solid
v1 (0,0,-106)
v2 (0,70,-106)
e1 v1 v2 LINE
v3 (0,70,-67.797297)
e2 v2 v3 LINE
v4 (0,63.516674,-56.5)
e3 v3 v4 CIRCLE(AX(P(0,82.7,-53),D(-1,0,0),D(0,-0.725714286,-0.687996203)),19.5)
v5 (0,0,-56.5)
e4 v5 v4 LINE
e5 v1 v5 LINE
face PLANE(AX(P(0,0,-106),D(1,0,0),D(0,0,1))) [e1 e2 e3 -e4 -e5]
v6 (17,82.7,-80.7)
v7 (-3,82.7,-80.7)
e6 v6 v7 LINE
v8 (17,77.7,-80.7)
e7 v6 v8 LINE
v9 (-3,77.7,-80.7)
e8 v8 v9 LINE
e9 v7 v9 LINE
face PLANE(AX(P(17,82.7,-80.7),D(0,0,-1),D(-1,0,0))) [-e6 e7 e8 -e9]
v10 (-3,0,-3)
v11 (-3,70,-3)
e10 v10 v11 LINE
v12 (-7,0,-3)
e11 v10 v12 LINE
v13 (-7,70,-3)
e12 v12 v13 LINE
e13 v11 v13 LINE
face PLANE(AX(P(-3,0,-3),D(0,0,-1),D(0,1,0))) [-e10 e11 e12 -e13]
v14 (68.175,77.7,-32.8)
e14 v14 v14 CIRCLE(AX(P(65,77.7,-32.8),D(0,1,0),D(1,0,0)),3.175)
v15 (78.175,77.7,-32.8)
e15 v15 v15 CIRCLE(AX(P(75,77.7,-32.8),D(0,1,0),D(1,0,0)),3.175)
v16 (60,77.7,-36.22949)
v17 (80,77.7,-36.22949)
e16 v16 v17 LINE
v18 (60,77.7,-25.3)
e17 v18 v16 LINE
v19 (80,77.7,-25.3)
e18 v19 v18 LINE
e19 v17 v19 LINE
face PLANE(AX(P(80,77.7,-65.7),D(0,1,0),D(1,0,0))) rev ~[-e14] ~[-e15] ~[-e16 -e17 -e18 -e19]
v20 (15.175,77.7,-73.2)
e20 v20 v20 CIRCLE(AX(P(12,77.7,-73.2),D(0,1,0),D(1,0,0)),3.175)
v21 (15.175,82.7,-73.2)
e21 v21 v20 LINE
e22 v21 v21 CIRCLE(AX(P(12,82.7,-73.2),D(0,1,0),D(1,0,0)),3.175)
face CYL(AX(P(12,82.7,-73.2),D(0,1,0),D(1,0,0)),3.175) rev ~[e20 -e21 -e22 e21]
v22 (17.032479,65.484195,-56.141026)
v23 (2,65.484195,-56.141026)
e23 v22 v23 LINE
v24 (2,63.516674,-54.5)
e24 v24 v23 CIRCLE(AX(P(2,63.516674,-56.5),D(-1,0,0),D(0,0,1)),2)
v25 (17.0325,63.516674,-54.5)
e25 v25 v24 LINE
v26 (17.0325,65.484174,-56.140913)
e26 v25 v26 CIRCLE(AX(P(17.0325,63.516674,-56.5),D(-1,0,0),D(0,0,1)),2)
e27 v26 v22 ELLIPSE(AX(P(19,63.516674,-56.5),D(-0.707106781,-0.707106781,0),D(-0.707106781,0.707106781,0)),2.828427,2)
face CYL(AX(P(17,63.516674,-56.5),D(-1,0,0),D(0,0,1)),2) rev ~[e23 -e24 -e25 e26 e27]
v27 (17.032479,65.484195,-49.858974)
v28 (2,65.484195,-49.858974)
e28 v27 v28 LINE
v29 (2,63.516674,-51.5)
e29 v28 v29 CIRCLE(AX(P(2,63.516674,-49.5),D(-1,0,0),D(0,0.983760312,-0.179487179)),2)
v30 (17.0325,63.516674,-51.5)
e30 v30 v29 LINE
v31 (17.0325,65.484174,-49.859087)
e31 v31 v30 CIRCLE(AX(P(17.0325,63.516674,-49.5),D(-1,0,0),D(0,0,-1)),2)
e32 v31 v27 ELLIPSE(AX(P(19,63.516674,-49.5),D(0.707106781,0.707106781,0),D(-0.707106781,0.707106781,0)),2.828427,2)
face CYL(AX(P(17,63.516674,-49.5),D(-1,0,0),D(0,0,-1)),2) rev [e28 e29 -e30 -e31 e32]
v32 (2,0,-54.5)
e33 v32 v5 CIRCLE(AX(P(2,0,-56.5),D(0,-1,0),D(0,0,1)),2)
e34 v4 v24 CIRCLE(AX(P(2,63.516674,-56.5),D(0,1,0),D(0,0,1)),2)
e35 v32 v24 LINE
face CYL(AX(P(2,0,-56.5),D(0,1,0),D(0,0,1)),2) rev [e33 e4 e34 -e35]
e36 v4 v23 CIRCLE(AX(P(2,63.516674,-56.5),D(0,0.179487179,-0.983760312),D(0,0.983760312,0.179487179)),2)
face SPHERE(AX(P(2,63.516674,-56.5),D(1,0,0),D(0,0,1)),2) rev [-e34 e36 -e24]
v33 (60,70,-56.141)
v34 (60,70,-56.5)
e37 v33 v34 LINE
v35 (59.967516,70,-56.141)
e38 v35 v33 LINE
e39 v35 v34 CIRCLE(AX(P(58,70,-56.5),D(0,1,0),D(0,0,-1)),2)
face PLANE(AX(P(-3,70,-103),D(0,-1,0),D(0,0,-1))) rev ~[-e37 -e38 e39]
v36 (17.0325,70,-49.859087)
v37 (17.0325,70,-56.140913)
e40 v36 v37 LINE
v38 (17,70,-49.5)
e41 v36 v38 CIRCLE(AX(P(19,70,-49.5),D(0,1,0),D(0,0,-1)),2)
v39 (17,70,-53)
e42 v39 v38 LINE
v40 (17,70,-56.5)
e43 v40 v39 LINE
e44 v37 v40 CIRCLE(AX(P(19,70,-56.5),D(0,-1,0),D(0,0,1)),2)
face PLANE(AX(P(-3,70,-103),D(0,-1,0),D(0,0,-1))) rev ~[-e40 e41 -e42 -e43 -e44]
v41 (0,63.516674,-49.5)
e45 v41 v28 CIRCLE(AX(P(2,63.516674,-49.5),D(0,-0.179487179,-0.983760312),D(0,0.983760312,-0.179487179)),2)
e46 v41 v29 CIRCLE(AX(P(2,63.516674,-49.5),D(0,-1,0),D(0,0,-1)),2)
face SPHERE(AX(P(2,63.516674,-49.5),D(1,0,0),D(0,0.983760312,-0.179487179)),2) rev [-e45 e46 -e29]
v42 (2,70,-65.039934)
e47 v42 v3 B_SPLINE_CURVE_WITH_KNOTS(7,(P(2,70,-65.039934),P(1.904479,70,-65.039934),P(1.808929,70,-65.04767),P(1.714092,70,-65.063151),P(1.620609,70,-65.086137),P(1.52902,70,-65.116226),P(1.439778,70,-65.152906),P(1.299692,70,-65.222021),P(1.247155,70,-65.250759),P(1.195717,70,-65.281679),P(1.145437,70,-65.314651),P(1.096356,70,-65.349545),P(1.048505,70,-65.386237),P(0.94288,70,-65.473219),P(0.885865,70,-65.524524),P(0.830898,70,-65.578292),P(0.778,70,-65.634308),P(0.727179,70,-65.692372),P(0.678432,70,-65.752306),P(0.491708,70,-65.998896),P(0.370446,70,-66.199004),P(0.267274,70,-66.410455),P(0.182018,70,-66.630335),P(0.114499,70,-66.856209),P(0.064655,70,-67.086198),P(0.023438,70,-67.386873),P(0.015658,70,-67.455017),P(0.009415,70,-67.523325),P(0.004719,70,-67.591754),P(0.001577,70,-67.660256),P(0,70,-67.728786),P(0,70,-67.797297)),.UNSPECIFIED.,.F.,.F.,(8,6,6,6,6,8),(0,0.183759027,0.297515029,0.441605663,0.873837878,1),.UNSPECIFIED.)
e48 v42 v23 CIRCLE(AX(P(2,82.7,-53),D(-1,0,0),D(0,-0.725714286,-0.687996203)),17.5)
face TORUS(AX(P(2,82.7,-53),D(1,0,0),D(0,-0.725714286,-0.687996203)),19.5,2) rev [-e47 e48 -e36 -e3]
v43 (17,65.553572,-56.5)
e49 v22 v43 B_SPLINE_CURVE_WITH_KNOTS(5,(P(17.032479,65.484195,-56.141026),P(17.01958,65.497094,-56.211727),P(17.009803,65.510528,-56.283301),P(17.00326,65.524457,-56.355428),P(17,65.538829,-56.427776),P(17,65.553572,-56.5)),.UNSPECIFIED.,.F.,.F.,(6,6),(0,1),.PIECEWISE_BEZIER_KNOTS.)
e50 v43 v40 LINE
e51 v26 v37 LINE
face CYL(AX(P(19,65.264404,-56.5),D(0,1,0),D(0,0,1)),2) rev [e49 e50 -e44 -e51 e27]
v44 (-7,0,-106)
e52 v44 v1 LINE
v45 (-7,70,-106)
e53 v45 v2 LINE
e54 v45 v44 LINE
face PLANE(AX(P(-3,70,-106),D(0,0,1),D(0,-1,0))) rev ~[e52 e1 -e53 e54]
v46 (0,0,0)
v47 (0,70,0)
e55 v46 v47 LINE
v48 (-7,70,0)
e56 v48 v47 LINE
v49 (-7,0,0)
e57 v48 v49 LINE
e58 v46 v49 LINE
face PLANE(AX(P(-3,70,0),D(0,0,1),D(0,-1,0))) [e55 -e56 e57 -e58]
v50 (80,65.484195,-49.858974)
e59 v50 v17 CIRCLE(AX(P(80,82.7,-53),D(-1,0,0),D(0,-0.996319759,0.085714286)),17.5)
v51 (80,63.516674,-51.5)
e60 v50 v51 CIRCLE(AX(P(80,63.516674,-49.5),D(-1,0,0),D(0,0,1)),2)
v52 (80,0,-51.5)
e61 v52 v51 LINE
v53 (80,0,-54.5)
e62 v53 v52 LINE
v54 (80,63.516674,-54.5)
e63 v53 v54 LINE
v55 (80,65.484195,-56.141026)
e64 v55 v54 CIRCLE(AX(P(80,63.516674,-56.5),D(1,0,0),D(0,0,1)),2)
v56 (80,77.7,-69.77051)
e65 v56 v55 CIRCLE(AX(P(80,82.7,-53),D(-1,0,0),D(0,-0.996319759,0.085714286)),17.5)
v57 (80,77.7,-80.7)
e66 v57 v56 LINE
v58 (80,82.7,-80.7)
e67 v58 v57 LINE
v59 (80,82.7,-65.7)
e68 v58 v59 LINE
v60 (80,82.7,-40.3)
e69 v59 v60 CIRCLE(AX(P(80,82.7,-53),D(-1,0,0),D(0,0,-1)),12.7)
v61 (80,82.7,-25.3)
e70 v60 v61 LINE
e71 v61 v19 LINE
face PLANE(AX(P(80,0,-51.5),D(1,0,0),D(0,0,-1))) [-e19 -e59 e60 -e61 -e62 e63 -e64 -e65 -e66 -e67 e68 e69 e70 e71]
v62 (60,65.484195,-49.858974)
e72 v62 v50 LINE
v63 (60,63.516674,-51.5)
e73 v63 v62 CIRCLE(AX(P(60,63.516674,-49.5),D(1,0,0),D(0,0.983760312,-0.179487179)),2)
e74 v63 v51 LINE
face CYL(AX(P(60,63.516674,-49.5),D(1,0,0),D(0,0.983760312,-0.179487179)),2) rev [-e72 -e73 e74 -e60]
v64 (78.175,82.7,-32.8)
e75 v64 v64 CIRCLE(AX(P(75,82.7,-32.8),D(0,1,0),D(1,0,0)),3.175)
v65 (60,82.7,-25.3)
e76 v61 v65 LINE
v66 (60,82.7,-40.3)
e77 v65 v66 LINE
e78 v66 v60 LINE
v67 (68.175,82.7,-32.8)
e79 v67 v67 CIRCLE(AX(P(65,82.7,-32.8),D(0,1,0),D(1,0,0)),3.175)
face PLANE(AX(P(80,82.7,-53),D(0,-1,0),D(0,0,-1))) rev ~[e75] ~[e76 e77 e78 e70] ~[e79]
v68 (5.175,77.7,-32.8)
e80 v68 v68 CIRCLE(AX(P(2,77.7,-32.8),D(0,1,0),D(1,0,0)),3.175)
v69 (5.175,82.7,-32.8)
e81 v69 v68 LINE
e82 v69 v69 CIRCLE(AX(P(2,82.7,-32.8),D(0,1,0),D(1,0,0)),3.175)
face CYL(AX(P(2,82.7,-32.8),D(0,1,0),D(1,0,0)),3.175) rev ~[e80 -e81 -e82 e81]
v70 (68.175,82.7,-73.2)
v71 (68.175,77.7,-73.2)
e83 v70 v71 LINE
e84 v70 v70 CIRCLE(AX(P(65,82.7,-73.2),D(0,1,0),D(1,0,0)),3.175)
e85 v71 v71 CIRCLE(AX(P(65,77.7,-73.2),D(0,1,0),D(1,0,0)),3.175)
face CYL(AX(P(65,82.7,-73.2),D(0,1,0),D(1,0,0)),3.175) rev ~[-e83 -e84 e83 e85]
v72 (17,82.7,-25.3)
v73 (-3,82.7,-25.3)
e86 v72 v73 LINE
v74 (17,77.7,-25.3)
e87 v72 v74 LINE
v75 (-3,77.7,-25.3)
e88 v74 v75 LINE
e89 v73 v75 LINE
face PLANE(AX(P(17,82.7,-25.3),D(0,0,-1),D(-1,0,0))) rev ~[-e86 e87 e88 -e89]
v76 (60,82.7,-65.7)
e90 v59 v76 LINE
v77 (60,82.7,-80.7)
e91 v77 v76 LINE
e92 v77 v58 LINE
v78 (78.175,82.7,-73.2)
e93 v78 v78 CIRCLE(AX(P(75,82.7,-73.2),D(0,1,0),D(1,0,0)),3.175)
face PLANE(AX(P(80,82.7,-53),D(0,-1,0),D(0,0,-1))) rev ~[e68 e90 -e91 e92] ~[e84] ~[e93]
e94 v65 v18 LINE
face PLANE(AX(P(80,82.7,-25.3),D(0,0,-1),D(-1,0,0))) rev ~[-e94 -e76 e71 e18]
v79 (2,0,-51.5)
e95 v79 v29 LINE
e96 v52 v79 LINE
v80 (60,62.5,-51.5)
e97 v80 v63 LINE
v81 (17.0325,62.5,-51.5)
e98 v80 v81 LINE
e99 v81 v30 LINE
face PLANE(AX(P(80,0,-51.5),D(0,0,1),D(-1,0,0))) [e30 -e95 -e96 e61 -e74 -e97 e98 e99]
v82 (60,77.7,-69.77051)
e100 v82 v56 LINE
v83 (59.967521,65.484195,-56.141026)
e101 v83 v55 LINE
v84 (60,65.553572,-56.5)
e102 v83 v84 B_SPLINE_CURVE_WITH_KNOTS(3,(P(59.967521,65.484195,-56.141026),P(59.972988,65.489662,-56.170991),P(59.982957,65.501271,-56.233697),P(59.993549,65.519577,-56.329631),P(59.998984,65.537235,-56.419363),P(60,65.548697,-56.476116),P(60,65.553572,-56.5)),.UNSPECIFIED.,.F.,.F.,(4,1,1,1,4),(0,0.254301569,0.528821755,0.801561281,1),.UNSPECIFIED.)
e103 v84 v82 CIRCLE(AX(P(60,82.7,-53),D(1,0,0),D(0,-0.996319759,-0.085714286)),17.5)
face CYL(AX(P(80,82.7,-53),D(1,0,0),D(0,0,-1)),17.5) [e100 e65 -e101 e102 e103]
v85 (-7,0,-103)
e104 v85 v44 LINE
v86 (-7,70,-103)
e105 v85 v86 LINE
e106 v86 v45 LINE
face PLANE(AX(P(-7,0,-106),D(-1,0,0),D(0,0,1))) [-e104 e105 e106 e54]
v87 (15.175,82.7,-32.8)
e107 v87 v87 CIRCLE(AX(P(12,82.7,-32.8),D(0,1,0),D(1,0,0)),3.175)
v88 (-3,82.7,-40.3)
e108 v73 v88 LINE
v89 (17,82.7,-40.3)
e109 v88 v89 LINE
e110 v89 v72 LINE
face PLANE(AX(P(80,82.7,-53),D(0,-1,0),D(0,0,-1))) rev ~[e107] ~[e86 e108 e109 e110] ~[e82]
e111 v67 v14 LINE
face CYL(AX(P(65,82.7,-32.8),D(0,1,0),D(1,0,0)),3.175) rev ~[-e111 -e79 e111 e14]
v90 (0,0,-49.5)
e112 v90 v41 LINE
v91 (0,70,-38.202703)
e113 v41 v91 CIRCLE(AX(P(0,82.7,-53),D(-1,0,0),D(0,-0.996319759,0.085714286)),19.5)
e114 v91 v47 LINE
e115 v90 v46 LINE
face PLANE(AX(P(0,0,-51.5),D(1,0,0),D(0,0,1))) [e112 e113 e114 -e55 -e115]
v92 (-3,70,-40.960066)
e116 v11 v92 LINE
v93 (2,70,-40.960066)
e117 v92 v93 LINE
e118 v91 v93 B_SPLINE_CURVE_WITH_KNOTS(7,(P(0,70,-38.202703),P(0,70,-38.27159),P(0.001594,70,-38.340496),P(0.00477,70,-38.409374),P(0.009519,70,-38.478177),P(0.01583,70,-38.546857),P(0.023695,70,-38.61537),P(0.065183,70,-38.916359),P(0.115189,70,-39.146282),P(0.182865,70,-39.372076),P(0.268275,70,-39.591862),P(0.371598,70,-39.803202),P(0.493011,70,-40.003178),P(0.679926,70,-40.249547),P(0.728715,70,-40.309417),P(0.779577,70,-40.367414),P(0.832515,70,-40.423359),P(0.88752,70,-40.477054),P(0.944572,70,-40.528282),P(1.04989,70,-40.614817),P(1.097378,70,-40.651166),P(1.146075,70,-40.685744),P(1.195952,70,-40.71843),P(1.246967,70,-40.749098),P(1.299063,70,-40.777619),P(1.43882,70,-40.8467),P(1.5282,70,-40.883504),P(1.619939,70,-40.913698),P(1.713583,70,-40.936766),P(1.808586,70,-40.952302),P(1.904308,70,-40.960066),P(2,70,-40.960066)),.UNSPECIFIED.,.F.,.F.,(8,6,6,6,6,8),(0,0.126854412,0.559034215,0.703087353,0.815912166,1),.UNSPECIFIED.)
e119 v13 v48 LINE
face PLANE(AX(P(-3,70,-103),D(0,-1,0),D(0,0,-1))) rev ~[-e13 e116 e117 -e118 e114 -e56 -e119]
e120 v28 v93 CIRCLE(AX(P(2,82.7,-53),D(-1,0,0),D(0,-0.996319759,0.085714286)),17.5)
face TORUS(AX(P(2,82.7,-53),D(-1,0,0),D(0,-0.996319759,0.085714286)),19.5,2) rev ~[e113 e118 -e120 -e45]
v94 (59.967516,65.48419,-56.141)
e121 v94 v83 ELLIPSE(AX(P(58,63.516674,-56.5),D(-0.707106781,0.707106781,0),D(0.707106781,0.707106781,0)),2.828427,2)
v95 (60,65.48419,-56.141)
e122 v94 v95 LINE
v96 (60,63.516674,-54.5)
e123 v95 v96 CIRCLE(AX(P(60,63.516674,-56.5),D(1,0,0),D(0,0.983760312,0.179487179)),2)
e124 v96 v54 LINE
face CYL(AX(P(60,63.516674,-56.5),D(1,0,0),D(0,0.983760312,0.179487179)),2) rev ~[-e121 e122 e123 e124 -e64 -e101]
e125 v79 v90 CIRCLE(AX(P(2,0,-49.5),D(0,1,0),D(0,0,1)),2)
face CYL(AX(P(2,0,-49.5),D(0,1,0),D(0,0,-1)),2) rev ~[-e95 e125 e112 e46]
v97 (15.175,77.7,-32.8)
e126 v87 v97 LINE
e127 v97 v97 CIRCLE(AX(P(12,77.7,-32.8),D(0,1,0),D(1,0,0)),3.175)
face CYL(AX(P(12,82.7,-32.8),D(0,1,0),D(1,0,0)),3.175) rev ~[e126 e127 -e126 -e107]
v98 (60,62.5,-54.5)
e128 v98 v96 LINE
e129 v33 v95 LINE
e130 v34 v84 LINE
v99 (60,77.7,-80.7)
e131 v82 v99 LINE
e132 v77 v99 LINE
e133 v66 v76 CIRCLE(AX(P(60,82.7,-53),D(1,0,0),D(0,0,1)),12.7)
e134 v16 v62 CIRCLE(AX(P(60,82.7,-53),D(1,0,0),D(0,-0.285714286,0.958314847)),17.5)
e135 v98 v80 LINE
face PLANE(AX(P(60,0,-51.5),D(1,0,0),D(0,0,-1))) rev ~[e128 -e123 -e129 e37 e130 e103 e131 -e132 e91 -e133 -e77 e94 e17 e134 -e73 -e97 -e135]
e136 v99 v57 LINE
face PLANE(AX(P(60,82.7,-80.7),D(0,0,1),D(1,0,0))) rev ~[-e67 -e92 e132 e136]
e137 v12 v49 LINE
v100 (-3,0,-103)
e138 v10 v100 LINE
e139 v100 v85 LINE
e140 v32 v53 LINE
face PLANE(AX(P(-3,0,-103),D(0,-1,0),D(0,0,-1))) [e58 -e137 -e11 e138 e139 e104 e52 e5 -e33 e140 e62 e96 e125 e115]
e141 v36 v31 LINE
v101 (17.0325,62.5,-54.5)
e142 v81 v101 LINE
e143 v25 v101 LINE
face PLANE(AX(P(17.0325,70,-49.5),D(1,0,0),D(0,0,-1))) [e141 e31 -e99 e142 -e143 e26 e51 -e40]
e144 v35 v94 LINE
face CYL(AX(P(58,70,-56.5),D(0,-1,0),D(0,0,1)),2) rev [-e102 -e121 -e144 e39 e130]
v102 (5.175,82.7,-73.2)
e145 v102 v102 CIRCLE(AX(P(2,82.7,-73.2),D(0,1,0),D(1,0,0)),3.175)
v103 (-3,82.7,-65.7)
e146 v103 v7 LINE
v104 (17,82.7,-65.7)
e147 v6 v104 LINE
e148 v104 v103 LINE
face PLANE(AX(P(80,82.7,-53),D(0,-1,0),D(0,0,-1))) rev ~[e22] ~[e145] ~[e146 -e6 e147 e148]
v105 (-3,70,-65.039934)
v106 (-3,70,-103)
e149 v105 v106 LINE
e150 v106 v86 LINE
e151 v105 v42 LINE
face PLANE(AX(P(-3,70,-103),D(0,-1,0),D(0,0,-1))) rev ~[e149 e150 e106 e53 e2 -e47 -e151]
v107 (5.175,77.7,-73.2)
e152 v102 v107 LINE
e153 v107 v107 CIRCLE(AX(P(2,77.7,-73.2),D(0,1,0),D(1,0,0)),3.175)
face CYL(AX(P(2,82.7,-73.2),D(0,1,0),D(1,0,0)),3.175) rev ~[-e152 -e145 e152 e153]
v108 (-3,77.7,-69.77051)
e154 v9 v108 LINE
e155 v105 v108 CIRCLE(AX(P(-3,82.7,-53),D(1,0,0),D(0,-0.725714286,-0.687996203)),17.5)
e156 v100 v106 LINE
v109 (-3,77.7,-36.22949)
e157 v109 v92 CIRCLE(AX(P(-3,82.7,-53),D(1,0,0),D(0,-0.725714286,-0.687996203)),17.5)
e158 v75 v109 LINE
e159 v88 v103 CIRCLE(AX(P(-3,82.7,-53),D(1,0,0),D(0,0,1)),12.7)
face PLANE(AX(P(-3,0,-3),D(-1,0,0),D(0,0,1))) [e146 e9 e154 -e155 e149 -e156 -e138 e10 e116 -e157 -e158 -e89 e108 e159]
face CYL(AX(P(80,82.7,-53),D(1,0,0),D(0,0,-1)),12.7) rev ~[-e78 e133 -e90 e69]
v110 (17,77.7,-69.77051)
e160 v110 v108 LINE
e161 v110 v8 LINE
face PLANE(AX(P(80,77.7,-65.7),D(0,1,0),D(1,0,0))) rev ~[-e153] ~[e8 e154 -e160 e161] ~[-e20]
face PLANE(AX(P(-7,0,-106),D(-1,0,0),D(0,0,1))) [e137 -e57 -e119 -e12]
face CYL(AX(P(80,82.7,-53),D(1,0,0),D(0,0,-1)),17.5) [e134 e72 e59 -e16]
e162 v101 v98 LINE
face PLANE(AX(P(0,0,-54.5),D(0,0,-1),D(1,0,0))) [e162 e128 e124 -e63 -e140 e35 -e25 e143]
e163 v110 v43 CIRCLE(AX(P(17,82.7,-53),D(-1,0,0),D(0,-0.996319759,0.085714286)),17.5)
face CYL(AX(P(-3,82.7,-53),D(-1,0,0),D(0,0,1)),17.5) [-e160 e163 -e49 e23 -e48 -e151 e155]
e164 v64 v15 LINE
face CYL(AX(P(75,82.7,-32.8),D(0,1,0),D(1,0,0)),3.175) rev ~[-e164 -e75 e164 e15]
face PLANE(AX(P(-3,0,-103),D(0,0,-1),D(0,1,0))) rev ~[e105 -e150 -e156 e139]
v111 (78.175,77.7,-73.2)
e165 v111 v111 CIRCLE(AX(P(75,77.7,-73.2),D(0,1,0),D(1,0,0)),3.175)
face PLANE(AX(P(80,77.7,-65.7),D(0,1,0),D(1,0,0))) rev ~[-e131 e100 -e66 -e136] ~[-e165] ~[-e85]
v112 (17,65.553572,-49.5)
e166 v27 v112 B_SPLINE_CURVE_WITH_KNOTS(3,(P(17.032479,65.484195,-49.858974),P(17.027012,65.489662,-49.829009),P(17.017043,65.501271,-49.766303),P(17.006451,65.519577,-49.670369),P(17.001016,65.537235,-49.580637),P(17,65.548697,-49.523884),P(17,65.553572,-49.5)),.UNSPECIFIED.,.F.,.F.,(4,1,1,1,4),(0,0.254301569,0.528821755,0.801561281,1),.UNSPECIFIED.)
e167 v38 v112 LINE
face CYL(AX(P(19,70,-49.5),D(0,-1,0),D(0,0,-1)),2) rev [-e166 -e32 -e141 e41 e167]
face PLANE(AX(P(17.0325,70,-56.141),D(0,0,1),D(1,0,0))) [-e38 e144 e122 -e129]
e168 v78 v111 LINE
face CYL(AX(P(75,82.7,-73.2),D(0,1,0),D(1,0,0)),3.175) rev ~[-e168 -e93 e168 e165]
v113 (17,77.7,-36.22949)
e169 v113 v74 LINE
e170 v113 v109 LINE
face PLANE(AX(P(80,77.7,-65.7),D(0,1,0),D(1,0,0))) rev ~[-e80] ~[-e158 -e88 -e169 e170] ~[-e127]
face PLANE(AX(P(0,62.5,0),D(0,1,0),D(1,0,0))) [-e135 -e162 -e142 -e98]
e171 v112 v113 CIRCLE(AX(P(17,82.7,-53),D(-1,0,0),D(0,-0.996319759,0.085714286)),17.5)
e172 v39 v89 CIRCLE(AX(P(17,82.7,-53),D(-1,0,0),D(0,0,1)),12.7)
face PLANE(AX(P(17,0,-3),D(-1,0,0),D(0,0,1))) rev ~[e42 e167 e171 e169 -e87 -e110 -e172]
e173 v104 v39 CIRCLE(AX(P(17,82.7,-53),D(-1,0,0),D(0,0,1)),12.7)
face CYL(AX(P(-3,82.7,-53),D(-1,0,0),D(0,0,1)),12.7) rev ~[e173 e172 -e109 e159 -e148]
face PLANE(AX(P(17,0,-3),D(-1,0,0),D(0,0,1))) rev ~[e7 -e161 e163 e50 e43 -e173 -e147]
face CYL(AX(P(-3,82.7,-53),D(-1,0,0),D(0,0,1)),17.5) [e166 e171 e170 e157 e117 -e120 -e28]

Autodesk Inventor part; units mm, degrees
ref_plane "YZ Plane" through (0, 0, 0) normal (1, 0, 0) x (0, 1, 0)
ref_plane "XZ Plane" through (0, 0, 0) normal (0, 1, 0) x (-1, 0, 0)
ref_plane "XY Plane" through (0, 0, 0) normal (0, 0, 1) x (1, 0, 0)
sketch "Sketch1" plane through (0, 0, 0) normal (0, 1, 0) x (-1, 0, 0)
  line L0 (0, 0) -> (3, 0)
  line L1 (3, 0) -> (3, -106)
  line L2 (3, -106) -> (0, -106)
  line L3 (0, -106) -> (0, 0)
  line L4 (0, -53) -> (-80, -53) construction
  line L5 (-80, -51.5) -> (0, -51.5)
  line L6 (0, -51.5) -> (0, -54.5)
  line L7 (0, -54.5) -> (-80, -54.5)
  line L8 (-80, -54.5) -> (-80, -51.5)
  line L9 (-80, -51.5) -> (0, -54.5) construction
  line L10 (0, -51.5) -> (-80, -54.5) construction
  point P0 (-40, -53)
  dimension "d0" = 3
  dimension "d1" = 106
  dimension "d2" = 80
  dimension "d3" = 3
extrude "Extrusion1" add sketch "Sketch1" along normal blind 70
sketch "Sketch2" plane through (-3, 0, -106) normal (-1, 0, 0) x (0, 0, 1)
  line L0 (0, 0) -> (106, 0) projected
  line L1 (0, 70) -> (106, 70) projected
  line L2 (106, 0) -> (103, 0)
  line L3 (103, 0) -> (103, 70)
  line L4 (103, 70) -> (106, 70)
  line L5 (106, 70) -> (106, 0)
  dimension "d6" = 3
sketch "Sketch3" plane through (-3, 0, -106) normal (-1, 0, 0) x (0, 0, 1)
  line L0 (51.5, 70) -> (0, 70) projected
  line L1 (0, 0) -> (3, 0)
  line L2 (3, 0) -> (3, 70)
  line L3 (3, 70) -> (0, 70)
  line L4 (0, 70) -> (0, 0)
  point P0 (106, 0)
  dimension "d7" = 3
sketch "Sketch4" plane through (-3, 0, -106) normal (-1, 0, 0) x (0, 0, 1)
  line L0 (51.5, 0) -> (0, 0) projected
  line L1 (51.5, 70) -> (0, 70) projected
  line L2 (0, 0) -> (3, 0)
  line L3 (3, 0) -> (3, 70)
  line L4 (3, 70) -> (0, 70)
  line L5 (0, 70) -> (0, 0)
  point P0 (106, 0)
  dimension "d8" = 3
extrude "Extrusion2" add sketch "Sketch2" along normal blind 4
extrude "Extrusion3" add sketch "Sketch4" along normal blind 4
sketch "Sketch5" plane through (-3, 0, -3) normal (-1, 0, 0) x (0, 0, 1)
  line L0 (-103, 0) -> (-103, 70) construction
  line L1 (-103, 70) -> (3, 70) construction
  line L2 (3, 70) -> (-50, 70) construction
  line L3 (-50, 70) -> (-50, 82.7) construction
  circle A0 centre (-50, 82.7) radius 12.7
  circle A1 centre (-50, 82.7) radius 17.5
  point P0 (3, 0)
  dimension "d13" = 12.7
  dimension "d14" = 25.4
  dimension "d15" = 35
extrude "Extrusion4" add sketch "Sketch5" against normal blind 20
sketch "Sketch6" plane through (80, 0, -51.5) normal (1, 0, 0) x (0, 0, -1)
  circle A0 centre (1.5, 82.7) radius 12.7 projected
  circle A1 centre (1.5, 82.7) radius 12.7
  circle A2 centre (1.5, 82.7) radius 17.5
  point P0 (-51.5, 0)
  point P1 (1.5, 70)
extrude "Extrusion5" add sketch "Sketch6" against normal blind 20
sketch "Sketch7" plane through (80, 0, -51.5) normal (1, 0, 0) x (0, 0, -1)
  arc A0 (3, 65.2644) -> (0, 65.2644) centre (1.5, 82.7) ccw projected
  line L0 (1.5, 82.7) -> (-23.0448, 82.7)
  line L1 (-23.0448, 82.7) -> (-23.0448, 99.7436)
  line L2 (-23.0448, 99.7436) -> (1.5, 99.7436)
  line L3 (1.5, 99.7436) -> (1.5, 82.7)
  line L4 (-23.0448, 82.7) -> (23.5266, 82.7)
  line L5 (23.5266, 82.7) -> (23.5266, 103.3181)
  line L6 (23.5266, 103.3181) -> (-23.0448, 103.3181)
  line L7 (-23.0448, 103.3181) -> (-23.0448, 82.7)
  point P0 (-51.5, 0)
extrude "Extrusion6" cut sketch "Sketch7" against normal blind 2000
sketch "Sketch8" plane through (80, 82.7, -65.7) normal (0, 1, 0) x (1, 0, 0)
  line L0 (-83, -25.4) -> (-83, 0) projected
  line L1 (-83, 0) -> (-63, 0)
  line L2 (-63, 0) -> (-63, 15)
  line L3 (-63, 15) -> (-83, 15)
  line L4 (-83, 15) -> (-83, 0)
  line L5 (0, 0) -> (-20, 0) projected
  line L6 (0, 0) -> (-20, 0)
  line L7 (-20, 0) -> (-20, 15)
  line L8 (-20, 15) -> (0, 15)
  line L9 (0, 15) -> (0, 0)
  line L10 (-20, -25.4) -> (0, -25.4) projected
  line L11 (-20, -25.4) -> (0, -25.4)
  line L12 (0, -25.4) -> (0, -40.4)
  line L13 (0, -40.4) -> (-20, -40.4)
  line L14 (-20, -40.4) -> (-20, -25.4)
  line L15 (-83, -25.4) -> (-63, -25.4)
  line L16 (-63, -25.4) -> (-63, -40.4)
  line L17 (-63, -40.4) -> (-83, -40.4)
  line L18 (-83, -40.4) -> (-83, -25.4)
  point P0 (-80, -65.7)
  dimension "d22" = 15
  dimension "d23" = 15
  dimension "d24" = 15
  dimension "d25" = 20
extrude "Extrusion7" add sketch "Sketch8" against normal blind 5
fillet "Fillet1" radius 2 12 edges at (0, 32.6322, -54.5) (0, 66.7372, -60.1721) (8.5, 65.2644, -54.5) (17, 67.6322, -54.5) (70, 65.2644, -54.5) (60, 67.6322, -54.5) (0, 32.6322, -51.5) (8.5, 65.2644, -51.5) (0, 66.7372, -45.8279) (17, 67.6322, -51.5) (70, 65.2644, -51.5) (60, 67.6322, -51.5)
sketch "Sketch9" plane through (0, 70, 0) normal (0, 1, 0) x (1, 0, 0)
  arc A0 (17.0325, 56.141) -> (19, 54.5) centre (19, 56.5) ccw projected
  line L0 (60, 49.5) -> (60, 53) projected
  line L1 (17.0325, 56.141) -> (60, 56.141)
  line L2 (60, 56.141) -> (60, 49.5)
  line L3 (60, 49.5) -> (17.0325, 49.5)
  line L4 (17.0325, 49.5) -> (17.0325, 56.141)
  point P0 (0, 0)
extrude "Extrusion8" cut sketch "Sketch9" against normal blind 7.5
sketch "Sketch10" plane through (-3, 82.7, -40.3) normal (0, 1, 0) x (1, 0, 0)
  line L0 (20, -4.0705) -> (20, -15) projected
  line L1 (0, 0) -> (20, 0) projected
  line L2 (20, -15) -> (0, -15)
  line L3 (0, -15) -> (0, 0)
  line L4 (0, 0) -> (20, 0)
  line L5 (20, 0) -> (20, -15)
  line L6 (20, -15) -> (0, -15) construction
  line L7 (10, -15) -> (10, 40.4) construction
  line L8 (0, 40.4) -> (20, 40.4) construction
  line L9 (0, -15) -> (10, 0) construction
  line L10 (0, 0) -> (10, -15) construction
  line L11 (20, 0) -> (10, -15) construction
  line L12 (20, -15) -> (10, 0) construction
  line L13 (20, 25.4) -> (0, 25.4) construction
  line L14 (10, 25.4) -> (0, 40.4) construction
  line L15 (0, 62.7) -> (0, -37.3) construction
  line L16 (0, 25.4) -> (10, 40.4) construction
  line L17 (10, 40.4) -> (20, 25.4) construction
  line L18 (20, 25.4) -> (15, 32.9) construction
  line L19 (20, 40.4) -> (20, 25.4) construction
  line L20 (10, 25.4) -> (20, 40.4) construction
  circle A0 centre (5, -7.5) radius 3.175
  circle A1 centre (15, -7.5) radius 3.175
  circle A2 centre (5, 32.9) radius 3.175
  circle A3 centre (15, 32.9) radius 3.175
  point P0 (3, -40.3)
  dimension "d31" = 6.35
  dimension "d32" = 6.35
  dimension "d33" = 6.35
  dimension "d34" = 6.35
extrude "Extrusion9" cut sketch "Sketch10" against normal blind 7.5 contours A0 | A1 | A2 | A3
sketch "Sketch11" plane through (60, 82.7, -40.3) normal (0, 1, 0) x (1, 0, 0)
  line L0 (20, -15) -> (0, -15) construction
  line L1 (10, -15) -> (10, 40.4) construction
  line L2 (0, 40.4) -> (20, 40.4) construction
  line L3 (0, 40.4) -> (10, 25.4) construction
  line L4 (20, 25.4) -> (0, 25.4) construction
  line L5 (5, 32.9) -> (20, 32.9) construction
  line L6 (20, 40.4) -> (20, 29.4705) construction
  line L7 (10, 25.4) -> (20, 40.4) construction
  line L8 (0, -15) -> (10, 0) construction
  line L9 (0, 0) -> (20, 0) construction
  line L10 (0, 0) -> (10, -15) construction
  line L11 (20, 0) -> (20, -15) construction
  line L12 (10, -15) -> (20, 0) construction
  line L13 (20, 0) -> (10, 0) construction
  line L14 (20, -15) -> (10, 0) construction
  circle A0 centre (5, -7.5) radius 3.175
  circle A1 centre (15, -7.5) radius 3.175
  circle A2 centre (5, 32.9) radius 3.175
  circle A3 centre (15, 32.9) radius 3.175
  point P0 (-60, -40.3)
  dimension "d37" = 6.35
  dimension "d38" = 6.35
  dimension "d39" = 6.35
  dimension "d40" = 6.35
extrude "Extrusion10" cut sketch "Sketch11" against normal blind 7.5
properties part number "scopeHolderv2"
